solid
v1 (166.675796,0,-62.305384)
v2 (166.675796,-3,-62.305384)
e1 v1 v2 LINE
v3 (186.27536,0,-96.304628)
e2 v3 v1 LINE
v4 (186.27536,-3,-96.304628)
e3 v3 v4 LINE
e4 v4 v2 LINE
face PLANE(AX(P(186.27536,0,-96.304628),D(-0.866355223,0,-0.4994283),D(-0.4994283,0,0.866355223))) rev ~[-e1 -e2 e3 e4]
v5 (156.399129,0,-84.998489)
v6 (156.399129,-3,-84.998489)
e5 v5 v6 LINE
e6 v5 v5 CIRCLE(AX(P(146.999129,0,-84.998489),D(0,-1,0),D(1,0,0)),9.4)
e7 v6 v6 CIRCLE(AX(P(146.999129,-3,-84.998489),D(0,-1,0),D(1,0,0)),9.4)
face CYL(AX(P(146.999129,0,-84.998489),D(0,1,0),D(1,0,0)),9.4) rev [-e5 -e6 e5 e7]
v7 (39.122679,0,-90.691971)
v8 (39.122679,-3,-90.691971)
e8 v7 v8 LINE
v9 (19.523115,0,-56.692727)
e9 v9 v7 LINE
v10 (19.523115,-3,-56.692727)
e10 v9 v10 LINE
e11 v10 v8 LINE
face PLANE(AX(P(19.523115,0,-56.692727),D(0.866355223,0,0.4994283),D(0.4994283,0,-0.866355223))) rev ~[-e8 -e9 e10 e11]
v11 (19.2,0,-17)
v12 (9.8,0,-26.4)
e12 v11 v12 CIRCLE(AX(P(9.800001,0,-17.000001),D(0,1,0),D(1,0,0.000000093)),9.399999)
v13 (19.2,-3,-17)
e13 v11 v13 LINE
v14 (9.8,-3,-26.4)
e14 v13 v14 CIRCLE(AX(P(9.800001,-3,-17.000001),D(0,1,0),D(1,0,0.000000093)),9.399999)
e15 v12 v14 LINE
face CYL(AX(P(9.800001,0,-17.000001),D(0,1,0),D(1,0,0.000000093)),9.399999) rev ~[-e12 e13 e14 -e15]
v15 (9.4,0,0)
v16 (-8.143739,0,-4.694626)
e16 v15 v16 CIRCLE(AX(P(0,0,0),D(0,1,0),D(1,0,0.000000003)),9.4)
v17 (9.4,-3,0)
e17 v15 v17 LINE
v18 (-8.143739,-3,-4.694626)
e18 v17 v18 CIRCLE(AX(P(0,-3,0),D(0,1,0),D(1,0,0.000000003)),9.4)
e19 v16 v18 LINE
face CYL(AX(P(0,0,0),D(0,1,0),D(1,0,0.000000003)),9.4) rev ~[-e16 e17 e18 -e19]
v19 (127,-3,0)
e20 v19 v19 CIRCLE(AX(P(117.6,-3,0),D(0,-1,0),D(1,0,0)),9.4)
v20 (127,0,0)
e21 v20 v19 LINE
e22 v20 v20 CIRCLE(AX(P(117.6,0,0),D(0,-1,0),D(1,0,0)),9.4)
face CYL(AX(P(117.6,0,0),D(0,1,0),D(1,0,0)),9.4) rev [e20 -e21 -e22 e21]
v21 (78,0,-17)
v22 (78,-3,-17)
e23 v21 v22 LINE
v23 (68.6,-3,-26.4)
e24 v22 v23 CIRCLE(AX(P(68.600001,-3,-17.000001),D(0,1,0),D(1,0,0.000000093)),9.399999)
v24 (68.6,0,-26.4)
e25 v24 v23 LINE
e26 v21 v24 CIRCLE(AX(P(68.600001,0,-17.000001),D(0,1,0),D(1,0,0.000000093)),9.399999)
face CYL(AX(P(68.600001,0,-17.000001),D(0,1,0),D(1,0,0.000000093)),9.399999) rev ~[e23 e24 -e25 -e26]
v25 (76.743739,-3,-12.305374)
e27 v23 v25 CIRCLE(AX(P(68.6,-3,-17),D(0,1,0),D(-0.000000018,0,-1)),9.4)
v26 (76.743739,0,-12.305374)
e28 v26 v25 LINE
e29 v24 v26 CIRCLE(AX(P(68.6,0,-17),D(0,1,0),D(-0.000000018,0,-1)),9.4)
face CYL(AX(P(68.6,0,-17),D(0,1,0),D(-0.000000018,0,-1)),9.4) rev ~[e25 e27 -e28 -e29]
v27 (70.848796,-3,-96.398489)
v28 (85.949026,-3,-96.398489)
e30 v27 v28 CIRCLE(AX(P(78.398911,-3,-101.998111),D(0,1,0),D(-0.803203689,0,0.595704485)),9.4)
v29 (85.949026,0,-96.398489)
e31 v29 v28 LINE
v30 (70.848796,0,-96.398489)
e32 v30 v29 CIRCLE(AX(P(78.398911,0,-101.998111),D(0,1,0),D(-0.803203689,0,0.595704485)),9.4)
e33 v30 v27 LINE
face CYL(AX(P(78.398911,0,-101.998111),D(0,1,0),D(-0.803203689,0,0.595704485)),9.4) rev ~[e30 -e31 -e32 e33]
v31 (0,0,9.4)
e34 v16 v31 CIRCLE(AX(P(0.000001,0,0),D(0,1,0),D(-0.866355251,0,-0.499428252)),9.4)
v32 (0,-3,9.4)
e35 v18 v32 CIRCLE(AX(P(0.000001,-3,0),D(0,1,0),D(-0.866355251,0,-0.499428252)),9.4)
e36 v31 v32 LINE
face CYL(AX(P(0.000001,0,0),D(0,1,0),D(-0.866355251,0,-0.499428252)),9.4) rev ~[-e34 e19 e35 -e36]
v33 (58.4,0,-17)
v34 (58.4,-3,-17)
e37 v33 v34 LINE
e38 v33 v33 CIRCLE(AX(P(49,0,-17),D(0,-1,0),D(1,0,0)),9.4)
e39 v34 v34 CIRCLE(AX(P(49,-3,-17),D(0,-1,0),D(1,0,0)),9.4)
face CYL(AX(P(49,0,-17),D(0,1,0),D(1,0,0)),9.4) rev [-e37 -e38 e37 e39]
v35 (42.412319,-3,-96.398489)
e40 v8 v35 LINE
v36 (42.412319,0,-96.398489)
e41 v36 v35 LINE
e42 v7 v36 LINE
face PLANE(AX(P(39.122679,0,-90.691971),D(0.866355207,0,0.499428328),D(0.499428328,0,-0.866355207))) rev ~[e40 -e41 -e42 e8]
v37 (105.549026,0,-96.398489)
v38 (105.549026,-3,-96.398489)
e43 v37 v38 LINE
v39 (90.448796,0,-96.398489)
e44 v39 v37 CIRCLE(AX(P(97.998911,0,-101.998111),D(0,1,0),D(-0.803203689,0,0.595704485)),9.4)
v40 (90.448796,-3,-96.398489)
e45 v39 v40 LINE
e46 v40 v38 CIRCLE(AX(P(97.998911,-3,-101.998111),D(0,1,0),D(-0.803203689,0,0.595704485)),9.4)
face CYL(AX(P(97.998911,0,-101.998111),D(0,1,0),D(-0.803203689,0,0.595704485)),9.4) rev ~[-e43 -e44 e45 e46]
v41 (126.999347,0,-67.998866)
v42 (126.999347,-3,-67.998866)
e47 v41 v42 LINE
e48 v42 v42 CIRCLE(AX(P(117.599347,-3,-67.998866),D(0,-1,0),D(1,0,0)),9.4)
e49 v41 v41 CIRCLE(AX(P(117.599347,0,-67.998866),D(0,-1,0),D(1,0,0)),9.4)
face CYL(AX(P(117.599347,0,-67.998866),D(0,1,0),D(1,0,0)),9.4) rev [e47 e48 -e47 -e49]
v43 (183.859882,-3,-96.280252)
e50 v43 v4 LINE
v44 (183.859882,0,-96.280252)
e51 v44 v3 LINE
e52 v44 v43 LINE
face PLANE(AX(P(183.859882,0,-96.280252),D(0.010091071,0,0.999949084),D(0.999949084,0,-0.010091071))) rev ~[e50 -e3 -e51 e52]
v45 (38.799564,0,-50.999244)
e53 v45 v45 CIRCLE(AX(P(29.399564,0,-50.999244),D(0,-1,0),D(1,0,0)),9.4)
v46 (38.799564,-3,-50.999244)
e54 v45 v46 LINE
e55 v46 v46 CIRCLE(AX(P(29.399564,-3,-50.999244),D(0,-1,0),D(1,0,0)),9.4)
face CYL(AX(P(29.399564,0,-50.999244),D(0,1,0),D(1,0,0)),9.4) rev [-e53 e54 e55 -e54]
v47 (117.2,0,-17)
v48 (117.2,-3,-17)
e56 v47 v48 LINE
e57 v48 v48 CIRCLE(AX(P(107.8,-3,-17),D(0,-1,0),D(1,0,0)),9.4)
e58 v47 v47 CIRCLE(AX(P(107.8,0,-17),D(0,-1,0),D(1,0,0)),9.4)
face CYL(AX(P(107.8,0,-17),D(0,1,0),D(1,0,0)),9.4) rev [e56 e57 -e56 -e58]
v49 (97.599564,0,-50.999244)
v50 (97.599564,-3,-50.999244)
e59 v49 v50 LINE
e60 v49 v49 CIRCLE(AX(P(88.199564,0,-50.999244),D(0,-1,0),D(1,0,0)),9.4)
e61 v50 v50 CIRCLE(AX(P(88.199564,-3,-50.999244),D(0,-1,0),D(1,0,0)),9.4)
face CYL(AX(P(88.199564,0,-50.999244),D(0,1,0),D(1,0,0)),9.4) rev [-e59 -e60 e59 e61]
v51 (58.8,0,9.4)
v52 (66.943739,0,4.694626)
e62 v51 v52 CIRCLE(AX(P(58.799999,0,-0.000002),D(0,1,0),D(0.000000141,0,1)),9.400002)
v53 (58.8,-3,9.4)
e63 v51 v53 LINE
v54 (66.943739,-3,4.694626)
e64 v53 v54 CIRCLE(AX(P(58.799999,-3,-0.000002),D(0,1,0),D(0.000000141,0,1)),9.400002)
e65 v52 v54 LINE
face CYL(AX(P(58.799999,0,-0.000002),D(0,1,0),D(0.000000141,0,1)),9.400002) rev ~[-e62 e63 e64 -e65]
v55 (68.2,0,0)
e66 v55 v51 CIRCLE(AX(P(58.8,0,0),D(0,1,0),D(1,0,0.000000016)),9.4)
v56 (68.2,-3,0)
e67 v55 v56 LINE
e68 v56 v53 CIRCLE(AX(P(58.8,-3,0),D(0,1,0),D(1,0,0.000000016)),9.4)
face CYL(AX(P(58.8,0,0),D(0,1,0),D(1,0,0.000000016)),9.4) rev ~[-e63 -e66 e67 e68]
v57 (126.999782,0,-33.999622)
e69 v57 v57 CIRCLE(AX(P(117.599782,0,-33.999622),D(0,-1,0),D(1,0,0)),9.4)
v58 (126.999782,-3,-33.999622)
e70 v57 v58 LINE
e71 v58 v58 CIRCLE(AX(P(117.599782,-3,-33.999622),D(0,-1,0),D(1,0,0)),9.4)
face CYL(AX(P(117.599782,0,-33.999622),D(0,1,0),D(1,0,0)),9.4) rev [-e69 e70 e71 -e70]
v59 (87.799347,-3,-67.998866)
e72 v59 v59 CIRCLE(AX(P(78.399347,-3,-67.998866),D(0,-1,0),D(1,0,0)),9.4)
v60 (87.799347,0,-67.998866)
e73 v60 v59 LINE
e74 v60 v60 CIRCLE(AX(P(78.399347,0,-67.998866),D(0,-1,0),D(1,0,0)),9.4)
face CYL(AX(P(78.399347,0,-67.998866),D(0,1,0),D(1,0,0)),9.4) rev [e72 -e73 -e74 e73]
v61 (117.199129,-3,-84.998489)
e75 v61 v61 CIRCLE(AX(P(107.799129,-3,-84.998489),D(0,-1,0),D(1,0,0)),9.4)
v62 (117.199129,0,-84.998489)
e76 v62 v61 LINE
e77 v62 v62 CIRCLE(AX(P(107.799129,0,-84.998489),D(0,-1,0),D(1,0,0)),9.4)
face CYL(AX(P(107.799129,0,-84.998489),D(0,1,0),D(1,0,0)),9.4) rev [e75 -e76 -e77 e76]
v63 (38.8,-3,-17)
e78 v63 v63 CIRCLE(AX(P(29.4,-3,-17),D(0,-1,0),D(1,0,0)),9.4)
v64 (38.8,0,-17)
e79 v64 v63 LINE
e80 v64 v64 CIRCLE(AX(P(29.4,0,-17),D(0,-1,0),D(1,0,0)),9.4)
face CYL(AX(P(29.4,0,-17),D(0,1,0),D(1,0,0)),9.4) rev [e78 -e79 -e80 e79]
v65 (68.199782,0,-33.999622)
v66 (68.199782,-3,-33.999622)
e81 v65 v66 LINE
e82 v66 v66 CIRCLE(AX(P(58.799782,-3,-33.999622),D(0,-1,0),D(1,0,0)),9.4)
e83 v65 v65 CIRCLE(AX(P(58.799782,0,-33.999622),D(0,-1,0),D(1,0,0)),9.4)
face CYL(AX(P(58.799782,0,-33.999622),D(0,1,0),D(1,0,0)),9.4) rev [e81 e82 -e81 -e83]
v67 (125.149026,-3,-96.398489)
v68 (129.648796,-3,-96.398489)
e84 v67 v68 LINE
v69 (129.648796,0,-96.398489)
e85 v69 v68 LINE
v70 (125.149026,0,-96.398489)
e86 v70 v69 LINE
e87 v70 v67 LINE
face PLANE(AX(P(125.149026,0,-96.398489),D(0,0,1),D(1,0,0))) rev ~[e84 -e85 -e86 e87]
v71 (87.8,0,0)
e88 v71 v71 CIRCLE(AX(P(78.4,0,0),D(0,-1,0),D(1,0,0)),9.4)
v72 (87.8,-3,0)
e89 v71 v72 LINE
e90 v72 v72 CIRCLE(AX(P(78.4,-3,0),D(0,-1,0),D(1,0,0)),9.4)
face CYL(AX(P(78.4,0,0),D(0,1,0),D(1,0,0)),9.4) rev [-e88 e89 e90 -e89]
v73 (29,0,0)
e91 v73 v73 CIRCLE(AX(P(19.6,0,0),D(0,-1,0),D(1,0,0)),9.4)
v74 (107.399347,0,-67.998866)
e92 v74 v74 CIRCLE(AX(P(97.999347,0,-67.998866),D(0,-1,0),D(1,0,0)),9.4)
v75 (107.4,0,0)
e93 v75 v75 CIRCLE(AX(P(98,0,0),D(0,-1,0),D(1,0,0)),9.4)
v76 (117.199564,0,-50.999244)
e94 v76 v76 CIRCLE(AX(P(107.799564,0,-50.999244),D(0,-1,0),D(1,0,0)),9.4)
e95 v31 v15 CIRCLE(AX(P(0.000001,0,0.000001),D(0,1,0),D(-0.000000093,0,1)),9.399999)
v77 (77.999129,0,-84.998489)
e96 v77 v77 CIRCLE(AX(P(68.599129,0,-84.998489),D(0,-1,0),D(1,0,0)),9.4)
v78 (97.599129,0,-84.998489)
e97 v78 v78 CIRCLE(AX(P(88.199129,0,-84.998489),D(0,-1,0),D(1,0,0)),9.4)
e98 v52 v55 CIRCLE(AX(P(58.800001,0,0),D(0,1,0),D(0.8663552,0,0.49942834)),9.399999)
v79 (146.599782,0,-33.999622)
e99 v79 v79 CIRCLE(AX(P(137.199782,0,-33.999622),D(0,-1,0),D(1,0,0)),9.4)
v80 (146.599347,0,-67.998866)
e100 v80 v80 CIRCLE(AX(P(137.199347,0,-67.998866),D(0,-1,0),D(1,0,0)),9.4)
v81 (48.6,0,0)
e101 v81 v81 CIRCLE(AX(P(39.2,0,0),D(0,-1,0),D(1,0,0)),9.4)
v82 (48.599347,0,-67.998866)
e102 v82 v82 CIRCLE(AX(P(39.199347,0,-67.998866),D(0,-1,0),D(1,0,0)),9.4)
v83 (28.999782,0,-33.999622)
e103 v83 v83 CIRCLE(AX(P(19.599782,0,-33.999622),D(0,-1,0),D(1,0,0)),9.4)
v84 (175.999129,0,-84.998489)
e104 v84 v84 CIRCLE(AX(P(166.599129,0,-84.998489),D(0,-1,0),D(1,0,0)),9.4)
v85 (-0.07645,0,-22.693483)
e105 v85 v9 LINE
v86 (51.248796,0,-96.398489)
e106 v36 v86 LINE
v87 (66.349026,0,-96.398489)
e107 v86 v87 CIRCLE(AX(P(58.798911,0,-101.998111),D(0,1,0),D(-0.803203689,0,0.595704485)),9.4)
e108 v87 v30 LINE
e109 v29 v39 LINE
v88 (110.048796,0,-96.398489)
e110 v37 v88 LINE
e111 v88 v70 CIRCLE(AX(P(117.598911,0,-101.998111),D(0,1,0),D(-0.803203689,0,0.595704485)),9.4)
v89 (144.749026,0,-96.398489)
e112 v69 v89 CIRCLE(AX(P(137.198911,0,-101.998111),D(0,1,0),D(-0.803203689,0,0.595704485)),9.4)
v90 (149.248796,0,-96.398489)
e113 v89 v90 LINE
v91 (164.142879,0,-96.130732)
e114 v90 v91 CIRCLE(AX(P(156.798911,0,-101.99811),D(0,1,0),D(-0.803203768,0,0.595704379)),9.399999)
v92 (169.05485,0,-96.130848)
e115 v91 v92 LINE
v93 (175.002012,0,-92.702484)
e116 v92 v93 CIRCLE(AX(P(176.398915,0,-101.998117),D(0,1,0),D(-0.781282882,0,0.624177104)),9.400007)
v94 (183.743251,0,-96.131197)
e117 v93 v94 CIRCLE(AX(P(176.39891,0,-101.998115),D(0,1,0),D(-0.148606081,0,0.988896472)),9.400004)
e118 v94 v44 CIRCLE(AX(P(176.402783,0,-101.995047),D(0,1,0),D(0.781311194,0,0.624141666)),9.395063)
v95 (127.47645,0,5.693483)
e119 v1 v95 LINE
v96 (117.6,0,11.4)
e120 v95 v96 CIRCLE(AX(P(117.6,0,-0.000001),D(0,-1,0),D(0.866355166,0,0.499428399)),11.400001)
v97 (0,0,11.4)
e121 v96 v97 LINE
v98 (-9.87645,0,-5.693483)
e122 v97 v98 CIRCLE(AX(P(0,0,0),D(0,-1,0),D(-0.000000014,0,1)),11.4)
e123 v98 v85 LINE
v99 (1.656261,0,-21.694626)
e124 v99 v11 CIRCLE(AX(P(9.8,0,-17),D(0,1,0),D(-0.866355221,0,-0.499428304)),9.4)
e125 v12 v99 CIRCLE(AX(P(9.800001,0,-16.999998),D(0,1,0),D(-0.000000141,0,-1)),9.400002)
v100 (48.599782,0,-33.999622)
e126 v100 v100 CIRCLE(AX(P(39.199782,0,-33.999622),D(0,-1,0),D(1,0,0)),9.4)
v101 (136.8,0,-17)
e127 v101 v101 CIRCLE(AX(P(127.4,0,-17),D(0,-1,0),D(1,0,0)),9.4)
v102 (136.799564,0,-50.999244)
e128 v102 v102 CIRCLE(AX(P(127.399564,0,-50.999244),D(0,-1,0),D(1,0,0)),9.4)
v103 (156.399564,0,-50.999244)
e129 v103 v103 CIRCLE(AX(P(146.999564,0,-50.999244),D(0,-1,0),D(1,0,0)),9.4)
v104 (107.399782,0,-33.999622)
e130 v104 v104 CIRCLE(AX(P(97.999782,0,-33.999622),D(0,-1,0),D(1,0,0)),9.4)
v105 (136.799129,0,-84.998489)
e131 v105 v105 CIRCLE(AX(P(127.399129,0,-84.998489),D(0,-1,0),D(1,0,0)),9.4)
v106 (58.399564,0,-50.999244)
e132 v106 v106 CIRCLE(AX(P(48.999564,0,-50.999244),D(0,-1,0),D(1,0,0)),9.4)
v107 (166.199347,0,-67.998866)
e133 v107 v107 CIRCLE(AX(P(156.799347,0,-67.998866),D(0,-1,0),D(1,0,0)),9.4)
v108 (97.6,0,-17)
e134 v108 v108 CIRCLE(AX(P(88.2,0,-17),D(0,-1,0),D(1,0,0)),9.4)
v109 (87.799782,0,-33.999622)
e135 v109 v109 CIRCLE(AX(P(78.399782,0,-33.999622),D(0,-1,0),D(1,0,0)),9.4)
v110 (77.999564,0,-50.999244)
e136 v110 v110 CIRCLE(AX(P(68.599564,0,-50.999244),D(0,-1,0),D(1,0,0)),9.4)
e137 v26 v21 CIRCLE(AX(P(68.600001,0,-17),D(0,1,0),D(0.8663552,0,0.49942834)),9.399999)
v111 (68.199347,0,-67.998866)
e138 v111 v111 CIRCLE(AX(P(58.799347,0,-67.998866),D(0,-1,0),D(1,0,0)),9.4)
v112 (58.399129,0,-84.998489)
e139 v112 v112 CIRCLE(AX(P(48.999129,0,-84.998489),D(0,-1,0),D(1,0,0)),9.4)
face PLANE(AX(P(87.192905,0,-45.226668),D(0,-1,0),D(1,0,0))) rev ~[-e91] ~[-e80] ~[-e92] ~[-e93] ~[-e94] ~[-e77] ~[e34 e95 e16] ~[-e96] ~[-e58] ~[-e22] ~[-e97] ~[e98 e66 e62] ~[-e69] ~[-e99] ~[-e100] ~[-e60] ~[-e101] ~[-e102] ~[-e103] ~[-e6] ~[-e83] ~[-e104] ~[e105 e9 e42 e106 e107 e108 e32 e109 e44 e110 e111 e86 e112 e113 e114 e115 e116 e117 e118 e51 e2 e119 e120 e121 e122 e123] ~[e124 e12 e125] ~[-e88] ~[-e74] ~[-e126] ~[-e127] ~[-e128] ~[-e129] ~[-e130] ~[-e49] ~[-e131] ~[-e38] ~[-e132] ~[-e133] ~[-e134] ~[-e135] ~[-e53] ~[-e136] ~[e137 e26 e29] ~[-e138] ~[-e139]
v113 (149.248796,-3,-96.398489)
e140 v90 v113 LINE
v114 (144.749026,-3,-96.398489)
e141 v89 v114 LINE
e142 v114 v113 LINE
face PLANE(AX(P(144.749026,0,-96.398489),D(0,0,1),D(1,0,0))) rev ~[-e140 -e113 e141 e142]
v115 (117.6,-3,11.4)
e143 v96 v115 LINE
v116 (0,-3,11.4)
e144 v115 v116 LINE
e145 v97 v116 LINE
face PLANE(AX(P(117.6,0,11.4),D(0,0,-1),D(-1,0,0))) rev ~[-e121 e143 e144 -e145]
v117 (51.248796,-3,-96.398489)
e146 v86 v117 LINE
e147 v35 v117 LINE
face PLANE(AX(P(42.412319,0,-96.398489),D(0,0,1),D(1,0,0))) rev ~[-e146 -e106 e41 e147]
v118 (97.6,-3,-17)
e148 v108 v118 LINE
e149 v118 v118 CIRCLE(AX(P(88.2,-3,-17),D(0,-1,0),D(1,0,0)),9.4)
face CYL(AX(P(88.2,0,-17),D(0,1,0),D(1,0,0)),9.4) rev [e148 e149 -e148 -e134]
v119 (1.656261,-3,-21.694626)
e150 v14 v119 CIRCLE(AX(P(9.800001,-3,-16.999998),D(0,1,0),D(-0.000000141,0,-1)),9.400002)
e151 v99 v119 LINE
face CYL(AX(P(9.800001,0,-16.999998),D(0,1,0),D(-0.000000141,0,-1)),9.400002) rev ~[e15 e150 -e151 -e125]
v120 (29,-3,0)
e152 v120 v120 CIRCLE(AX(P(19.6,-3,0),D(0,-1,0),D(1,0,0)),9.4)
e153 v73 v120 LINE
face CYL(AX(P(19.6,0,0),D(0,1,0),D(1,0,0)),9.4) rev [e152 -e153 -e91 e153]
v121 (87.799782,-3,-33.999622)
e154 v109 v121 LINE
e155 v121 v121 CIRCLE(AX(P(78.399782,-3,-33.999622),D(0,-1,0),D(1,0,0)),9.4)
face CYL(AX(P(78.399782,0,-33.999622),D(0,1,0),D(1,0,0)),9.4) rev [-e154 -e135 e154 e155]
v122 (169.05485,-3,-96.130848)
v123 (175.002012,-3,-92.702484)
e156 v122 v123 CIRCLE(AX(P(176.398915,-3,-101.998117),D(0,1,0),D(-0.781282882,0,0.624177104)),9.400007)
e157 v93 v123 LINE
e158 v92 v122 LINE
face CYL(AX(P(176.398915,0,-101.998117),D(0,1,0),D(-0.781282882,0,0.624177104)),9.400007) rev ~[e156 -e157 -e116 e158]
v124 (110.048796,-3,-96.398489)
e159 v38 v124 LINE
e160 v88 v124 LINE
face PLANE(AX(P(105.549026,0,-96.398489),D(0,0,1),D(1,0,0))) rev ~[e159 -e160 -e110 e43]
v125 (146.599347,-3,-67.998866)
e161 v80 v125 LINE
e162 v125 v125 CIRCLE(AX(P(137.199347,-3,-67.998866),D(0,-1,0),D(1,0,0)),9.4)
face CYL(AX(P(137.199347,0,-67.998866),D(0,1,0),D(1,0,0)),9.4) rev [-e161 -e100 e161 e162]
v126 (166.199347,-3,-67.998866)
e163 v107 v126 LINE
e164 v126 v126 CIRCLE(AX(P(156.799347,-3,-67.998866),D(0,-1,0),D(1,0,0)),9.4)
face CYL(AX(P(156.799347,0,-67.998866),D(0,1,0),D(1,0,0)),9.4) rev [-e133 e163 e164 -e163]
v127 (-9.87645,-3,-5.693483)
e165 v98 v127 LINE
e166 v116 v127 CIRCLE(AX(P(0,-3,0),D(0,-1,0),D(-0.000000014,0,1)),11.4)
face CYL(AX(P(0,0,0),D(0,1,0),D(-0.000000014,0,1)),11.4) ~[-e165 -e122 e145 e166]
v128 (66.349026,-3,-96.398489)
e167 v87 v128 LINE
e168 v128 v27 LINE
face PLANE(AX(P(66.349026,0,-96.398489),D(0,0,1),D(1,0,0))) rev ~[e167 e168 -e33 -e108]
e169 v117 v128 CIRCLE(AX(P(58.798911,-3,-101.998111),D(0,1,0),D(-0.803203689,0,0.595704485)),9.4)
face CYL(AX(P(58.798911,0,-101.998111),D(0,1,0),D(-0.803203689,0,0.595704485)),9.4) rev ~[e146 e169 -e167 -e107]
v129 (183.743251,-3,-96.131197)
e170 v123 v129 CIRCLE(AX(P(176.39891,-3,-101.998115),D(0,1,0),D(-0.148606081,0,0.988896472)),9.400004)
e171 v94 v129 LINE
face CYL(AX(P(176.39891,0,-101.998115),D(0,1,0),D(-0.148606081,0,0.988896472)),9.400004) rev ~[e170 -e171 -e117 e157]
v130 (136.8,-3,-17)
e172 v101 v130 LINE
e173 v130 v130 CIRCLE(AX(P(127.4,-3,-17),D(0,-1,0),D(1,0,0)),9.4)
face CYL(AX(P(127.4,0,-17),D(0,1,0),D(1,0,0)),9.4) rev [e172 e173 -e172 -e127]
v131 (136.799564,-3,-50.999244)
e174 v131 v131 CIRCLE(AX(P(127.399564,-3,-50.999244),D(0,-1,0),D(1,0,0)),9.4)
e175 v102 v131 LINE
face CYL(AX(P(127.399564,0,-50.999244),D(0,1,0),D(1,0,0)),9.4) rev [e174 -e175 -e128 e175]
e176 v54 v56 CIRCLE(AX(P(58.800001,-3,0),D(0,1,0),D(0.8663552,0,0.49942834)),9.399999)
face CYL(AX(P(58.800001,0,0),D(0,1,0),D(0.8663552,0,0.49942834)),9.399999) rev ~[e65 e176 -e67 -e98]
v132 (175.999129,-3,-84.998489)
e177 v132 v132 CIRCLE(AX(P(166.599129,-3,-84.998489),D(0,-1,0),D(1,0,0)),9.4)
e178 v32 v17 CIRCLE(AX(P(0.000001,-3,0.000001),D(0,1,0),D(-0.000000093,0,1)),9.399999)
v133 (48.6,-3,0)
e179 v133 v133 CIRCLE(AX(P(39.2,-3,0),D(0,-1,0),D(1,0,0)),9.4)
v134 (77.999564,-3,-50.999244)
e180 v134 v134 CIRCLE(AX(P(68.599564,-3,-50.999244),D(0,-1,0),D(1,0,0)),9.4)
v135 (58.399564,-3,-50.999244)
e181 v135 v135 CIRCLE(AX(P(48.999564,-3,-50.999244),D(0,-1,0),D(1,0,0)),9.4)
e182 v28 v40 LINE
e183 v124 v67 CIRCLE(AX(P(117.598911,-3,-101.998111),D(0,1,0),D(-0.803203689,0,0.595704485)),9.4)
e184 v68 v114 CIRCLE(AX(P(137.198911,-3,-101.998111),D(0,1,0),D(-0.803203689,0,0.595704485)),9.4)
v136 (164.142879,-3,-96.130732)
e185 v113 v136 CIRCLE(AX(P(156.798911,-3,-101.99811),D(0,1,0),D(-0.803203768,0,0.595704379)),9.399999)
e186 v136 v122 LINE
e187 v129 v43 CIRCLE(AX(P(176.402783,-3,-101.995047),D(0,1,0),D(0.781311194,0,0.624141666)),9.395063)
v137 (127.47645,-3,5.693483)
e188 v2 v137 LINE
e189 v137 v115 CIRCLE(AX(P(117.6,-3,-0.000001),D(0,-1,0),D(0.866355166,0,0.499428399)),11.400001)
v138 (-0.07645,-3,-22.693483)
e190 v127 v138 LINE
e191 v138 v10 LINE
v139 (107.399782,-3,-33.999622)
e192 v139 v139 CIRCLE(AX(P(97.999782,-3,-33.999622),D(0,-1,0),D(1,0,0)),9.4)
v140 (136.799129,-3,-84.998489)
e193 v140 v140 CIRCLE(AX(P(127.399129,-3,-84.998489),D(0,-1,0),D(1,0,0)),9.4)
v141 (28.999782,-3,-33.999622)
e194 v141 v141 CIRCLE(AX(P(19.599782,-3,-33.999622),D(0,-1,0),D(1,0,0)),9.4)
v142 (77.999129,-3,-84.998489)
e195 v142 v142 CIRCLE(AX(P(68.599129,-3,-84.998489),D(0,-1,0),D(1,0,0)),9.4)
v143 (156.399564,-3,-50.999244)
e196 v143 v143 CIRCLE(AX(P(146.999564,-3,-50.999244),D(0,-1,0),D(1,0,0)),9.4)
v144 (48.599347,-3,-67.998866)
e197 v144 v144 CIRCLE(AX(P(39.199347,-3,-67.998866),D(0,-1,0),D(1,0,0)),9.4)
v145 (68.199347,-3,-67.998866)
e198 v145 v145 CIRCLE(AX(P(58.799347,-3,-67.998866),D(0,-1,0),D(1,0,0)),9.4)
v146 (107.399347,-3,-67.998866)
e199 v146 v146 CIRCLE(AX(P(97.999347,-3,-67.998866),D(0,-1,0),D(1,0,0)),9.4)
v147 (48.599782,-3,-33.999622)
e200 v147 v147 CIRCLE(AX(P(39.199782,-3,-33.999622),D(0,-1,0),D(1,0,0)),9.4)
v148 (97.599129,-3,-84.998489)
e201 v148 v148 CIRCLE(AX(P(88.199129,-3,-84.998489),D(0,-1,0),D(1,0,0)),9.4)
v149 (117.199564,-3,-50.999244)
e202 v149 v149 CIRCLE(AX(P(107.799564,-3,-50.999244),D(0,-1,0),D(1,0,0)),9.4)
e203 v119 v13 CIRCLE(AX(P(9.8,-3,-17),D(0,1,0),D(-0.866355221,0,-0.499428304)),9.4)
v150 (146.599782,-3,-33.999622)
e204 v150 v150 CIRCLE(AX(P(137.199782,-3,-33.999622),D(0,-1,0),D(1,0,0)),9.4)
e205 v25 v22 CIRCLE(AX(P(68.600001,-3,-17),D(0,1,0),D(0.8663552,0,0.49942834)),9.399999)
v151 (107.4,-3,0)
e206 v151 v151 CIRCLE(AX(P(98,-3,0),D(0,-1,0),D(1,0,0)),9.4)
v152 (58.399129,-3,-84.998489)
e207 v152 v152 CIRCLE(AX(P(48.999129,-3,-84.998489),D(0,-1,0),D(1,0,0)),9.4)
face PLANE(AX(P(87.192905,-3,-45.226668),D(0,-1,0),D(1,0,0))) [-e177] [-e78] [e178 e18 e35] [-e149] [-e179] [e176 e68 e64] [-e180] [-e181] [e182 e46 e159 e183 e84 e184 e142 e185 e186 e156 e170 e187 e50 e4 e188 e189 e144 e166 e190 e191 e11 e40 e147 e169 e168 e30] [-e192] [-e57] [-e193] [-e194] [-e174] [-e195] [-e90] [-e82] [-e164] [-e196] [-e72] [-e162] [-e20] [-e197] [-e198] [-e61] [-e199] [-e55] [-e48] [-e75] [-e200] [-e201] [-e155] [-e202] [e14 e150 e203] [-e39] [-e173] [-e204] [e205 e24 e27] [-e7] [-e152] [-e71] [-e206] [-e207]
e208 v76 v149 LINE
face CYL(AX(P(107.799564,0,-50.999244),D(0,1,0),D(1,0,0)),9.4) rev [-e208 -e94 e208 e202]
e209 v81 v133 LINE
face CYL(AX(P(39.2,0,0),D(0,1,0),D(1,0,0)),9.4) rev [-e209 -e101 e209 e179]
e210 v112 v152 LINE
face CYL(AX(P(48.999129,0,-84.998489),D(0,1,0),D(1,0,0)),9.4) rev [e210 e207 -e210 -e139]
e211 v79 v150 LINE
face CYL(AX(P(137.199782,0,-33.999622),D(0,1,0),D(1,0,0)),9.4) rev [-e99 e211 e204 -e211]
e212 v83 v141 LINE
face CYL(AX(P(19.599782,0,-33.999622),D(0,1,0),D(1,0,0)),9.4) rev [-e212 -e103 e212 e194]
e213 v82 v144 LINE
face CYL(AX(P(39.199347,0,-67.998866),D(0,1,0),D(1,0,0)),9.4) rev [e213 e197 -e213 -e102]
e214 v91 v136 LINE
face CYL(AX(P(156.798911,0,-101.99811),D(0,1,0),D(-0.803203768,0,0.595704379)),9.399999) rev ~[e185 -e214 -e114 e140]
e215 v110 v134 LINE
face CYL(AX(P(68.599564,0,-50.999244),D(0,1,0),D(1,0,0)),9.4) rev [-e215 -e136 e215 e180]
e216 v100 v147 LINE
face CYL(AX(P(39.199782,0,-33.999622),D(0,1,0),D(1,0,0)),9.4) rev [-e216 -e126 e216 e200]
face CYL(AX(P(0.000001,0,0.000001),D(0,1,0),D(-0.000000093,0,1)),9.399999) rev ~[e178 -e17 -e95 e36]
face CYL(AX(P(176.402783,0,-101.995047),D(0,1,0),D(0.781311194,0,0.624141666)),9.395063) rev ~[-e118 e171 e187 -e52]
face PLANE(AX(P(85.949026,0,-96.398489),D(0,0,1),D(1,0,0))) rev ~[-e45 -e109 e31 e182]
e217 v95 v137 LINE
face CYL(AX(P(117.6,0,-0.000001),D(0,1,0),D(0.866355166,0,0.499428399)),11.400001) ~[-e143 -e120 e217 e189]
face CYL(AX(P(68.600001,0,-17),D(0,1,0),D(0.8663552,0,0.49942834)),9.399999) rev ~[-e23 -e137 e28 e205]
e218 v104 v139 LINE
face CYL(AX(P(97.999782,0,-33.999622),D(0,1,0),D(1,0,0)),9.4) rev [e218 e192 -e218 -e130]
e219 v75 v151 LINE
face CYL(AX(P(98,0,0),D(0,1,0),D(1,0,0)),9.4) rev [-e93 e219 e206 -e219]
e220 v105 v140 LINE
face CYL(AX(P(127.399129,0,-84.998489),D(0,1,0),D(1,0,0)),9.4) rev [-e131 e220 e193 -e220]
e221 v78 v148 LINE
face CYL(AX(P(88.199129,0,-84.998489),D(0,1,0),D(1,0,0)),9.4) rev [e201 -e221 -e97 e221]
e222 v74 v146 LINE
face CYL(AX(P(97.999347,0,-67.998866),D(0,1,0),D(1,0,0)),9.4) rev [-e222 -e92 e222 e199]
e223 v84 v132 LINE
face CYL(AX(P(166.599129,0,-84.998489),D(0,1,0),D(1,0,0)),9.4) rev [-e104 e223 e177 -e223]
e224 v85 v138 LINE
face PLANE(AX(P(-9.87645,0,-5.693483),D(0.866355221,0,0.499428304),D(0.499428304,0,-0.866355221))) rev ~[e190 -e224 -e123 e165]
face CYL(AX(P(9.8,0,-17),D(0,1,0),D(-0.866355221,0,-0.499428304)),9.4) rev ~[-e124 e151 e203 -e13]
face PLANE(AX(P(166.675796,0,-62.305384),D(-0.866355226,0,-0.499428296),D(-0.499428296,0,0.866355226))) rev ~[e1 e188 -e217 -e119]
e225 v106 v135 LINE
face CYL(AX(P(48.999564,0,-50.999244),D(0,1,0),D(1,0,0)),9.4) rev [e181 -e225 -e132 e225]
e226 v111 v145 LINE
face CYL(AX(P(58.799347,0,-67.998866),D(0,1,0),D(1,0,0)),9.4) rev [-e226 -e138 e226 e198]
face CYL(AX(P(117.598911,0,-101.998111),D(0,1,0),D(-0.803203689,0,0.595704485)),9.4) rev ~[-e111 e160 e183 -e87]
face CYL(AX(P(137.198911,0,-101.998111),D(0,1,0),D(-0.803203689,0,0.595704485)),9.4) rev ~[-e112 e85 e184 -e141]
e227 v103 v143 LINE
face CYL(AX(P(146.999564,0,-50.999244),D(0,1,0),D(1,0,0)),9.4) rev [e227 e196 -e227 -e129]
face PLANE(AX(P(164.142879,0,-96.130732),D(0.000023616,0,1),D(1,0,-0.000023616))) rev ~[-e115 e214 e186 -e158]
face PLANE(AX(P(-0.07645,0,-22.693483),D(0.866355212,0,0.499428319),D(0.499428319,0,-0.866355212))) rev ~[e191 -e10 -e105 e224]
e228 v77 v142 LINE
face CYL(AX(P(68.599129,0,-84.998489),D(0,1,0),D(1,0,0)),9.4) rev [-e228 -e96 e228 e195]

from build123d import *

# Parameters (mm, degrees)
F0_R     = 9.4
F1_DEPTH = 3


with BuildPart() as f1:
    # F0 (on Front) → F1 (new body)
    with BuildSketch(Plane.XZ):
        with BuildLine():
            Line((58.8, 11.4), (0, 11.4))
            ThreePointArc((0, 11.4), (-9.870808, 5.703258), (-9.87645, -5.693483))
            Line((-9.87645, -5.693483), (-0.07645, -22.693483))
            Line((-0.07645, -22.693483), (19.523115, -56.692727))
            Line((19.523115, -56.692727), (29.322897, -73.692349))
            Line((29.322897, -73.692349), (39.122679, -90.691971))
            Line((39.122679, -90.691971), (42.412319, -96.398489))
            Line((42.412319, -96.398489), (48.999129, -96.398489))
            Line((48.999129, -96.398489), (51.248796, -96.398489))
            ThreePointArc((51.248796, -96.398489), (58.798911, -92.598111), (66.349026, -96.398489))
            Line((66.349026, -96.398489), (70.848796, -96.398489))
            ThreePointArc((70.848796, -96.398489), (78.398911, -92.598111), (85.949026, -96.398489))
            Line((85.949026, -96.398489), (90.448796, -96.398489))
            ThreePointArc((90.448796, -96.398489), (97.998911, -92.598111), (105.549026, -96.398489))
            Line((105.549026, -96.398489), (110.048796, -96.398489))
            ThreePointArc((110.048796, -96.398489), (117.598911, -92.598111), (125.149026, -96.398489))
            Line((125.149026, -96.398489), (129.648796, -96.398489))
            ThreePointArc((129.648796, -96.398489), (137.198911, -92.598111), (144.749026, -96.398489))
            Line((144.749026, -96.398489), (149.248796, -96.398489))
            ThreePointArc((149.248796, -96.398489), (156.629951, -92.599629), (164.142879, -96.130732))
            Line((164.142879, -96.130732), (169.05485, -96.130848))
            ThreePointArc((169.05485, -96.130848), (171.704285, -93.854372), (175.002012, -92.702484))
            ThreePointArc((175.002012, -92.702484), (179.831407, -93.247227), (183.743251, -96.131197))
            ThreePointArc((183.743251, -96.131197), (183.801942, -96.205431), (183.859882, -96.280252))
            Line((183.859882, -96.280252), (186.27536, -96.304628))
            Line((186.27536, -96.304628), (176.475578, -79.305006))
            Line((176.475578, -79.305006), (166.675796, -62.305384))
            Line((166.675796, -62.305384), (127.47645, 5.693483))
            ThreePointArc((127.47645, 5.693483), (123.303258, 9.870808), (117.6, 11.4))
            Line((117.6, 11.4), (98, 11.4))
            Line((98, 11.4), (58.8, 11.4))
        make_face()
        with Locations((48.999129, -84.998489)):
            Circle(F0_R, mode=Mode.SUBTRACT)
        with Locations((68.599129, -84.998489)):
            Circle(F0_R, mode=Mode.SUBTRACT)
        with Locations((29.399564, -50.999244)):
            Circle(F0_R, mode=Mode.SUBTRACT)
        with Locations((39.199347, -67.998866)):
            Circle(F0_R, mode=Mode.SUBTRACT)
        with Locations((58.799347, -67.998866)):
            Circle(F0_R, mode=Mode.SUBTRACT)
        with Locations((78.399347, -67.998866)):
            Circle(F0_R, mode=Mode.SUBTRACT)
        with Locations((48.999564, -50.999244)):
            Circle(F0_R, mode=Mode.SUBTRACT)
        with Locations((68.599564, -50.999244)):
            Circle(F0_R, mode=Mode.SUBTRACT)
        with Locations((88.199129, -84.998489)):
            Circle(F0_R, mode=Mode.SUBTRACT)
        with Locations((107.799129, -84.998489)):
            Circle(F0_R, mode=Mode.SUBTRACT)
        with Locations((127.399129, -84.998489)):
            Circle(F0_R, mode=Mode.SUBTRACT)
        with Locations((146.999129, -84.998489)):
            Circle(F0_R, mode=Mode.SUBTRACT)
        with Locations((166.599129, -84.998489)):
            Circle(F0_R, mode=Mode.SUBTRACT)
        with Locations((97.999347, -67.998866)):
            Circle(F0_R, mode=Mode.SUBTRACT)
        with Locations((117.599347, -67.998866)):
            Circle(F0_R, mode=Mode.SUBTRACT)
        with Locations((88.199564, -50.999244)):
            Circle(F0_R, mode=Mode.SUBTRACT)
        with Locations((107.799564, -50.999244)):
            Circle(F0_R, mode=Mode.SUBTRACT)
        with Locations((127.399564, -50.999244)):
            Circle(F0_R, mode=Mode.SUBTRACT)
        with Locations((137.199347, -67.998866)):
            Circle(F0_R, mode=Mode.SUBTRACT)
        with Locations((156.799347, -67.998866)):
            Circle(F0_R, mode=Mode.SUBTRACT)
        with Locations((146.999564, -50.999244)):
            Circle(F0_R, mode=Mode.SUBTRACT)
        with Locations((19.599782, -33.999622)):
            Circle(F0_R, mode=Mode.SUBTRACT)
        with BuildLine():
            ThreePointArc((1.656261, -21.694626), (7.370097, -7.919495), (19.2, -17))
            ThreePointArc((19.2, -17), (16.446804, -23.646804), (9.8, -26.4))
            ThreePointArc((9.8, -26.4), (5.097314, -25.139087), (1.656261, -21.694626))
        make_face(mode=Mode.SUBTRACT)
        with Locations((29.4, -17)):
            Circle(F0_R, mode=Mode.SUBTRACT)
        with Locations((39.199782, -33.999622)):
            Circle(F0_R, mode=Mode.SUBTRACT)
        with Locations((58.799782, -33.999622)):
            Circle(F0_R, mode=Mode.SUBTRACT)
        with Locations((78.399782, -33.999622)):
            Circle(F0_R, mode=Mode.SUBTRACT)
        with Locations((49, -17)):
            Circle(F0_R, mode=Mode.SUBTRACT)
        with BuildLine():
            ThreePointArc((76.743739, -12.305374), (77.680505, -14.570097), (78, -17))
            ThreePointArc((78, -17), (75.246804, -23.646804), (68.6, -26.4))
            ThreePointArc((68.6, -26.4), (60.460913, -12.297314), (76.743739, -12.305374))
        make_face(mode=Mode.SUBTRACT)
        with BuildLine():
            ThreePointArc((0, 9.4), (6.646804, 6.646804), (9.4, 0))
            ThreePointArc((9.4, 0), (2.429903, -9.080505), (-8.143739, -4.694626))
            ThreePointArc((-8.143739, -4.694626), (-8.139087, 4.702686), (0, 9.4))
        make_face(mode=Mode.SUBTRACT)
        with Locations((19.6, 0)):
            Circle(F0_R, mode=Mode.SUBTRACT)
        with Locations((39.2, 0)):
            Circle(F0_R, mode=Mode.SUBTRACT)
        with BuildLine():
            ThreePointArc((66.943739, 4.694626), (67.880505, 2.429903), (68.2, 0))
            ThreePointArc((68.2, 0), (52.153196, -6.646804), (58.8, 9.4))
            ThreePointArc((58.8, 9.4), (63.502686, 8.139087), (66.943739, 4.694626))
        make_face(mode=Mode.SUBTRACT)
        with Locations((78.4, 0)):
            Circle(F0_R, mode=Mode.SUBTRACT)
        with Locations((97.999782, -33.999622)):
            Circle(F0_R, mode=Mode.SUBTRACT)
        with Locations((117.599782, -33.999622)):
            Circle(F0_R, mode=Mode.SUBTRACT)
        with Locations((88.2, -17)):
            Circle(F0_R, mode=Mode.SUBTRACT)
        with Locations((107.8, -17)):
            Circle(F0_R, mode=Mode.SUBTRACT)
        with Locations((127.4, -17)):
            Circle(F0_R, mode=Mode.SUBTRACT)
        with Locations((137.199782, -33.999622)):
            Circle(F0_R, mode=Mode.SUBTRACT)
        with Locations((98, 0)):
            Circle(F0_R, mode=Mode.SUBTRACT)
        with Locations((117.6, 0)):
            Circle(F0_R, mode=Mode.SUBTRACT)
    extrude(amount=F1_DEPTH)


solid = f1.part
